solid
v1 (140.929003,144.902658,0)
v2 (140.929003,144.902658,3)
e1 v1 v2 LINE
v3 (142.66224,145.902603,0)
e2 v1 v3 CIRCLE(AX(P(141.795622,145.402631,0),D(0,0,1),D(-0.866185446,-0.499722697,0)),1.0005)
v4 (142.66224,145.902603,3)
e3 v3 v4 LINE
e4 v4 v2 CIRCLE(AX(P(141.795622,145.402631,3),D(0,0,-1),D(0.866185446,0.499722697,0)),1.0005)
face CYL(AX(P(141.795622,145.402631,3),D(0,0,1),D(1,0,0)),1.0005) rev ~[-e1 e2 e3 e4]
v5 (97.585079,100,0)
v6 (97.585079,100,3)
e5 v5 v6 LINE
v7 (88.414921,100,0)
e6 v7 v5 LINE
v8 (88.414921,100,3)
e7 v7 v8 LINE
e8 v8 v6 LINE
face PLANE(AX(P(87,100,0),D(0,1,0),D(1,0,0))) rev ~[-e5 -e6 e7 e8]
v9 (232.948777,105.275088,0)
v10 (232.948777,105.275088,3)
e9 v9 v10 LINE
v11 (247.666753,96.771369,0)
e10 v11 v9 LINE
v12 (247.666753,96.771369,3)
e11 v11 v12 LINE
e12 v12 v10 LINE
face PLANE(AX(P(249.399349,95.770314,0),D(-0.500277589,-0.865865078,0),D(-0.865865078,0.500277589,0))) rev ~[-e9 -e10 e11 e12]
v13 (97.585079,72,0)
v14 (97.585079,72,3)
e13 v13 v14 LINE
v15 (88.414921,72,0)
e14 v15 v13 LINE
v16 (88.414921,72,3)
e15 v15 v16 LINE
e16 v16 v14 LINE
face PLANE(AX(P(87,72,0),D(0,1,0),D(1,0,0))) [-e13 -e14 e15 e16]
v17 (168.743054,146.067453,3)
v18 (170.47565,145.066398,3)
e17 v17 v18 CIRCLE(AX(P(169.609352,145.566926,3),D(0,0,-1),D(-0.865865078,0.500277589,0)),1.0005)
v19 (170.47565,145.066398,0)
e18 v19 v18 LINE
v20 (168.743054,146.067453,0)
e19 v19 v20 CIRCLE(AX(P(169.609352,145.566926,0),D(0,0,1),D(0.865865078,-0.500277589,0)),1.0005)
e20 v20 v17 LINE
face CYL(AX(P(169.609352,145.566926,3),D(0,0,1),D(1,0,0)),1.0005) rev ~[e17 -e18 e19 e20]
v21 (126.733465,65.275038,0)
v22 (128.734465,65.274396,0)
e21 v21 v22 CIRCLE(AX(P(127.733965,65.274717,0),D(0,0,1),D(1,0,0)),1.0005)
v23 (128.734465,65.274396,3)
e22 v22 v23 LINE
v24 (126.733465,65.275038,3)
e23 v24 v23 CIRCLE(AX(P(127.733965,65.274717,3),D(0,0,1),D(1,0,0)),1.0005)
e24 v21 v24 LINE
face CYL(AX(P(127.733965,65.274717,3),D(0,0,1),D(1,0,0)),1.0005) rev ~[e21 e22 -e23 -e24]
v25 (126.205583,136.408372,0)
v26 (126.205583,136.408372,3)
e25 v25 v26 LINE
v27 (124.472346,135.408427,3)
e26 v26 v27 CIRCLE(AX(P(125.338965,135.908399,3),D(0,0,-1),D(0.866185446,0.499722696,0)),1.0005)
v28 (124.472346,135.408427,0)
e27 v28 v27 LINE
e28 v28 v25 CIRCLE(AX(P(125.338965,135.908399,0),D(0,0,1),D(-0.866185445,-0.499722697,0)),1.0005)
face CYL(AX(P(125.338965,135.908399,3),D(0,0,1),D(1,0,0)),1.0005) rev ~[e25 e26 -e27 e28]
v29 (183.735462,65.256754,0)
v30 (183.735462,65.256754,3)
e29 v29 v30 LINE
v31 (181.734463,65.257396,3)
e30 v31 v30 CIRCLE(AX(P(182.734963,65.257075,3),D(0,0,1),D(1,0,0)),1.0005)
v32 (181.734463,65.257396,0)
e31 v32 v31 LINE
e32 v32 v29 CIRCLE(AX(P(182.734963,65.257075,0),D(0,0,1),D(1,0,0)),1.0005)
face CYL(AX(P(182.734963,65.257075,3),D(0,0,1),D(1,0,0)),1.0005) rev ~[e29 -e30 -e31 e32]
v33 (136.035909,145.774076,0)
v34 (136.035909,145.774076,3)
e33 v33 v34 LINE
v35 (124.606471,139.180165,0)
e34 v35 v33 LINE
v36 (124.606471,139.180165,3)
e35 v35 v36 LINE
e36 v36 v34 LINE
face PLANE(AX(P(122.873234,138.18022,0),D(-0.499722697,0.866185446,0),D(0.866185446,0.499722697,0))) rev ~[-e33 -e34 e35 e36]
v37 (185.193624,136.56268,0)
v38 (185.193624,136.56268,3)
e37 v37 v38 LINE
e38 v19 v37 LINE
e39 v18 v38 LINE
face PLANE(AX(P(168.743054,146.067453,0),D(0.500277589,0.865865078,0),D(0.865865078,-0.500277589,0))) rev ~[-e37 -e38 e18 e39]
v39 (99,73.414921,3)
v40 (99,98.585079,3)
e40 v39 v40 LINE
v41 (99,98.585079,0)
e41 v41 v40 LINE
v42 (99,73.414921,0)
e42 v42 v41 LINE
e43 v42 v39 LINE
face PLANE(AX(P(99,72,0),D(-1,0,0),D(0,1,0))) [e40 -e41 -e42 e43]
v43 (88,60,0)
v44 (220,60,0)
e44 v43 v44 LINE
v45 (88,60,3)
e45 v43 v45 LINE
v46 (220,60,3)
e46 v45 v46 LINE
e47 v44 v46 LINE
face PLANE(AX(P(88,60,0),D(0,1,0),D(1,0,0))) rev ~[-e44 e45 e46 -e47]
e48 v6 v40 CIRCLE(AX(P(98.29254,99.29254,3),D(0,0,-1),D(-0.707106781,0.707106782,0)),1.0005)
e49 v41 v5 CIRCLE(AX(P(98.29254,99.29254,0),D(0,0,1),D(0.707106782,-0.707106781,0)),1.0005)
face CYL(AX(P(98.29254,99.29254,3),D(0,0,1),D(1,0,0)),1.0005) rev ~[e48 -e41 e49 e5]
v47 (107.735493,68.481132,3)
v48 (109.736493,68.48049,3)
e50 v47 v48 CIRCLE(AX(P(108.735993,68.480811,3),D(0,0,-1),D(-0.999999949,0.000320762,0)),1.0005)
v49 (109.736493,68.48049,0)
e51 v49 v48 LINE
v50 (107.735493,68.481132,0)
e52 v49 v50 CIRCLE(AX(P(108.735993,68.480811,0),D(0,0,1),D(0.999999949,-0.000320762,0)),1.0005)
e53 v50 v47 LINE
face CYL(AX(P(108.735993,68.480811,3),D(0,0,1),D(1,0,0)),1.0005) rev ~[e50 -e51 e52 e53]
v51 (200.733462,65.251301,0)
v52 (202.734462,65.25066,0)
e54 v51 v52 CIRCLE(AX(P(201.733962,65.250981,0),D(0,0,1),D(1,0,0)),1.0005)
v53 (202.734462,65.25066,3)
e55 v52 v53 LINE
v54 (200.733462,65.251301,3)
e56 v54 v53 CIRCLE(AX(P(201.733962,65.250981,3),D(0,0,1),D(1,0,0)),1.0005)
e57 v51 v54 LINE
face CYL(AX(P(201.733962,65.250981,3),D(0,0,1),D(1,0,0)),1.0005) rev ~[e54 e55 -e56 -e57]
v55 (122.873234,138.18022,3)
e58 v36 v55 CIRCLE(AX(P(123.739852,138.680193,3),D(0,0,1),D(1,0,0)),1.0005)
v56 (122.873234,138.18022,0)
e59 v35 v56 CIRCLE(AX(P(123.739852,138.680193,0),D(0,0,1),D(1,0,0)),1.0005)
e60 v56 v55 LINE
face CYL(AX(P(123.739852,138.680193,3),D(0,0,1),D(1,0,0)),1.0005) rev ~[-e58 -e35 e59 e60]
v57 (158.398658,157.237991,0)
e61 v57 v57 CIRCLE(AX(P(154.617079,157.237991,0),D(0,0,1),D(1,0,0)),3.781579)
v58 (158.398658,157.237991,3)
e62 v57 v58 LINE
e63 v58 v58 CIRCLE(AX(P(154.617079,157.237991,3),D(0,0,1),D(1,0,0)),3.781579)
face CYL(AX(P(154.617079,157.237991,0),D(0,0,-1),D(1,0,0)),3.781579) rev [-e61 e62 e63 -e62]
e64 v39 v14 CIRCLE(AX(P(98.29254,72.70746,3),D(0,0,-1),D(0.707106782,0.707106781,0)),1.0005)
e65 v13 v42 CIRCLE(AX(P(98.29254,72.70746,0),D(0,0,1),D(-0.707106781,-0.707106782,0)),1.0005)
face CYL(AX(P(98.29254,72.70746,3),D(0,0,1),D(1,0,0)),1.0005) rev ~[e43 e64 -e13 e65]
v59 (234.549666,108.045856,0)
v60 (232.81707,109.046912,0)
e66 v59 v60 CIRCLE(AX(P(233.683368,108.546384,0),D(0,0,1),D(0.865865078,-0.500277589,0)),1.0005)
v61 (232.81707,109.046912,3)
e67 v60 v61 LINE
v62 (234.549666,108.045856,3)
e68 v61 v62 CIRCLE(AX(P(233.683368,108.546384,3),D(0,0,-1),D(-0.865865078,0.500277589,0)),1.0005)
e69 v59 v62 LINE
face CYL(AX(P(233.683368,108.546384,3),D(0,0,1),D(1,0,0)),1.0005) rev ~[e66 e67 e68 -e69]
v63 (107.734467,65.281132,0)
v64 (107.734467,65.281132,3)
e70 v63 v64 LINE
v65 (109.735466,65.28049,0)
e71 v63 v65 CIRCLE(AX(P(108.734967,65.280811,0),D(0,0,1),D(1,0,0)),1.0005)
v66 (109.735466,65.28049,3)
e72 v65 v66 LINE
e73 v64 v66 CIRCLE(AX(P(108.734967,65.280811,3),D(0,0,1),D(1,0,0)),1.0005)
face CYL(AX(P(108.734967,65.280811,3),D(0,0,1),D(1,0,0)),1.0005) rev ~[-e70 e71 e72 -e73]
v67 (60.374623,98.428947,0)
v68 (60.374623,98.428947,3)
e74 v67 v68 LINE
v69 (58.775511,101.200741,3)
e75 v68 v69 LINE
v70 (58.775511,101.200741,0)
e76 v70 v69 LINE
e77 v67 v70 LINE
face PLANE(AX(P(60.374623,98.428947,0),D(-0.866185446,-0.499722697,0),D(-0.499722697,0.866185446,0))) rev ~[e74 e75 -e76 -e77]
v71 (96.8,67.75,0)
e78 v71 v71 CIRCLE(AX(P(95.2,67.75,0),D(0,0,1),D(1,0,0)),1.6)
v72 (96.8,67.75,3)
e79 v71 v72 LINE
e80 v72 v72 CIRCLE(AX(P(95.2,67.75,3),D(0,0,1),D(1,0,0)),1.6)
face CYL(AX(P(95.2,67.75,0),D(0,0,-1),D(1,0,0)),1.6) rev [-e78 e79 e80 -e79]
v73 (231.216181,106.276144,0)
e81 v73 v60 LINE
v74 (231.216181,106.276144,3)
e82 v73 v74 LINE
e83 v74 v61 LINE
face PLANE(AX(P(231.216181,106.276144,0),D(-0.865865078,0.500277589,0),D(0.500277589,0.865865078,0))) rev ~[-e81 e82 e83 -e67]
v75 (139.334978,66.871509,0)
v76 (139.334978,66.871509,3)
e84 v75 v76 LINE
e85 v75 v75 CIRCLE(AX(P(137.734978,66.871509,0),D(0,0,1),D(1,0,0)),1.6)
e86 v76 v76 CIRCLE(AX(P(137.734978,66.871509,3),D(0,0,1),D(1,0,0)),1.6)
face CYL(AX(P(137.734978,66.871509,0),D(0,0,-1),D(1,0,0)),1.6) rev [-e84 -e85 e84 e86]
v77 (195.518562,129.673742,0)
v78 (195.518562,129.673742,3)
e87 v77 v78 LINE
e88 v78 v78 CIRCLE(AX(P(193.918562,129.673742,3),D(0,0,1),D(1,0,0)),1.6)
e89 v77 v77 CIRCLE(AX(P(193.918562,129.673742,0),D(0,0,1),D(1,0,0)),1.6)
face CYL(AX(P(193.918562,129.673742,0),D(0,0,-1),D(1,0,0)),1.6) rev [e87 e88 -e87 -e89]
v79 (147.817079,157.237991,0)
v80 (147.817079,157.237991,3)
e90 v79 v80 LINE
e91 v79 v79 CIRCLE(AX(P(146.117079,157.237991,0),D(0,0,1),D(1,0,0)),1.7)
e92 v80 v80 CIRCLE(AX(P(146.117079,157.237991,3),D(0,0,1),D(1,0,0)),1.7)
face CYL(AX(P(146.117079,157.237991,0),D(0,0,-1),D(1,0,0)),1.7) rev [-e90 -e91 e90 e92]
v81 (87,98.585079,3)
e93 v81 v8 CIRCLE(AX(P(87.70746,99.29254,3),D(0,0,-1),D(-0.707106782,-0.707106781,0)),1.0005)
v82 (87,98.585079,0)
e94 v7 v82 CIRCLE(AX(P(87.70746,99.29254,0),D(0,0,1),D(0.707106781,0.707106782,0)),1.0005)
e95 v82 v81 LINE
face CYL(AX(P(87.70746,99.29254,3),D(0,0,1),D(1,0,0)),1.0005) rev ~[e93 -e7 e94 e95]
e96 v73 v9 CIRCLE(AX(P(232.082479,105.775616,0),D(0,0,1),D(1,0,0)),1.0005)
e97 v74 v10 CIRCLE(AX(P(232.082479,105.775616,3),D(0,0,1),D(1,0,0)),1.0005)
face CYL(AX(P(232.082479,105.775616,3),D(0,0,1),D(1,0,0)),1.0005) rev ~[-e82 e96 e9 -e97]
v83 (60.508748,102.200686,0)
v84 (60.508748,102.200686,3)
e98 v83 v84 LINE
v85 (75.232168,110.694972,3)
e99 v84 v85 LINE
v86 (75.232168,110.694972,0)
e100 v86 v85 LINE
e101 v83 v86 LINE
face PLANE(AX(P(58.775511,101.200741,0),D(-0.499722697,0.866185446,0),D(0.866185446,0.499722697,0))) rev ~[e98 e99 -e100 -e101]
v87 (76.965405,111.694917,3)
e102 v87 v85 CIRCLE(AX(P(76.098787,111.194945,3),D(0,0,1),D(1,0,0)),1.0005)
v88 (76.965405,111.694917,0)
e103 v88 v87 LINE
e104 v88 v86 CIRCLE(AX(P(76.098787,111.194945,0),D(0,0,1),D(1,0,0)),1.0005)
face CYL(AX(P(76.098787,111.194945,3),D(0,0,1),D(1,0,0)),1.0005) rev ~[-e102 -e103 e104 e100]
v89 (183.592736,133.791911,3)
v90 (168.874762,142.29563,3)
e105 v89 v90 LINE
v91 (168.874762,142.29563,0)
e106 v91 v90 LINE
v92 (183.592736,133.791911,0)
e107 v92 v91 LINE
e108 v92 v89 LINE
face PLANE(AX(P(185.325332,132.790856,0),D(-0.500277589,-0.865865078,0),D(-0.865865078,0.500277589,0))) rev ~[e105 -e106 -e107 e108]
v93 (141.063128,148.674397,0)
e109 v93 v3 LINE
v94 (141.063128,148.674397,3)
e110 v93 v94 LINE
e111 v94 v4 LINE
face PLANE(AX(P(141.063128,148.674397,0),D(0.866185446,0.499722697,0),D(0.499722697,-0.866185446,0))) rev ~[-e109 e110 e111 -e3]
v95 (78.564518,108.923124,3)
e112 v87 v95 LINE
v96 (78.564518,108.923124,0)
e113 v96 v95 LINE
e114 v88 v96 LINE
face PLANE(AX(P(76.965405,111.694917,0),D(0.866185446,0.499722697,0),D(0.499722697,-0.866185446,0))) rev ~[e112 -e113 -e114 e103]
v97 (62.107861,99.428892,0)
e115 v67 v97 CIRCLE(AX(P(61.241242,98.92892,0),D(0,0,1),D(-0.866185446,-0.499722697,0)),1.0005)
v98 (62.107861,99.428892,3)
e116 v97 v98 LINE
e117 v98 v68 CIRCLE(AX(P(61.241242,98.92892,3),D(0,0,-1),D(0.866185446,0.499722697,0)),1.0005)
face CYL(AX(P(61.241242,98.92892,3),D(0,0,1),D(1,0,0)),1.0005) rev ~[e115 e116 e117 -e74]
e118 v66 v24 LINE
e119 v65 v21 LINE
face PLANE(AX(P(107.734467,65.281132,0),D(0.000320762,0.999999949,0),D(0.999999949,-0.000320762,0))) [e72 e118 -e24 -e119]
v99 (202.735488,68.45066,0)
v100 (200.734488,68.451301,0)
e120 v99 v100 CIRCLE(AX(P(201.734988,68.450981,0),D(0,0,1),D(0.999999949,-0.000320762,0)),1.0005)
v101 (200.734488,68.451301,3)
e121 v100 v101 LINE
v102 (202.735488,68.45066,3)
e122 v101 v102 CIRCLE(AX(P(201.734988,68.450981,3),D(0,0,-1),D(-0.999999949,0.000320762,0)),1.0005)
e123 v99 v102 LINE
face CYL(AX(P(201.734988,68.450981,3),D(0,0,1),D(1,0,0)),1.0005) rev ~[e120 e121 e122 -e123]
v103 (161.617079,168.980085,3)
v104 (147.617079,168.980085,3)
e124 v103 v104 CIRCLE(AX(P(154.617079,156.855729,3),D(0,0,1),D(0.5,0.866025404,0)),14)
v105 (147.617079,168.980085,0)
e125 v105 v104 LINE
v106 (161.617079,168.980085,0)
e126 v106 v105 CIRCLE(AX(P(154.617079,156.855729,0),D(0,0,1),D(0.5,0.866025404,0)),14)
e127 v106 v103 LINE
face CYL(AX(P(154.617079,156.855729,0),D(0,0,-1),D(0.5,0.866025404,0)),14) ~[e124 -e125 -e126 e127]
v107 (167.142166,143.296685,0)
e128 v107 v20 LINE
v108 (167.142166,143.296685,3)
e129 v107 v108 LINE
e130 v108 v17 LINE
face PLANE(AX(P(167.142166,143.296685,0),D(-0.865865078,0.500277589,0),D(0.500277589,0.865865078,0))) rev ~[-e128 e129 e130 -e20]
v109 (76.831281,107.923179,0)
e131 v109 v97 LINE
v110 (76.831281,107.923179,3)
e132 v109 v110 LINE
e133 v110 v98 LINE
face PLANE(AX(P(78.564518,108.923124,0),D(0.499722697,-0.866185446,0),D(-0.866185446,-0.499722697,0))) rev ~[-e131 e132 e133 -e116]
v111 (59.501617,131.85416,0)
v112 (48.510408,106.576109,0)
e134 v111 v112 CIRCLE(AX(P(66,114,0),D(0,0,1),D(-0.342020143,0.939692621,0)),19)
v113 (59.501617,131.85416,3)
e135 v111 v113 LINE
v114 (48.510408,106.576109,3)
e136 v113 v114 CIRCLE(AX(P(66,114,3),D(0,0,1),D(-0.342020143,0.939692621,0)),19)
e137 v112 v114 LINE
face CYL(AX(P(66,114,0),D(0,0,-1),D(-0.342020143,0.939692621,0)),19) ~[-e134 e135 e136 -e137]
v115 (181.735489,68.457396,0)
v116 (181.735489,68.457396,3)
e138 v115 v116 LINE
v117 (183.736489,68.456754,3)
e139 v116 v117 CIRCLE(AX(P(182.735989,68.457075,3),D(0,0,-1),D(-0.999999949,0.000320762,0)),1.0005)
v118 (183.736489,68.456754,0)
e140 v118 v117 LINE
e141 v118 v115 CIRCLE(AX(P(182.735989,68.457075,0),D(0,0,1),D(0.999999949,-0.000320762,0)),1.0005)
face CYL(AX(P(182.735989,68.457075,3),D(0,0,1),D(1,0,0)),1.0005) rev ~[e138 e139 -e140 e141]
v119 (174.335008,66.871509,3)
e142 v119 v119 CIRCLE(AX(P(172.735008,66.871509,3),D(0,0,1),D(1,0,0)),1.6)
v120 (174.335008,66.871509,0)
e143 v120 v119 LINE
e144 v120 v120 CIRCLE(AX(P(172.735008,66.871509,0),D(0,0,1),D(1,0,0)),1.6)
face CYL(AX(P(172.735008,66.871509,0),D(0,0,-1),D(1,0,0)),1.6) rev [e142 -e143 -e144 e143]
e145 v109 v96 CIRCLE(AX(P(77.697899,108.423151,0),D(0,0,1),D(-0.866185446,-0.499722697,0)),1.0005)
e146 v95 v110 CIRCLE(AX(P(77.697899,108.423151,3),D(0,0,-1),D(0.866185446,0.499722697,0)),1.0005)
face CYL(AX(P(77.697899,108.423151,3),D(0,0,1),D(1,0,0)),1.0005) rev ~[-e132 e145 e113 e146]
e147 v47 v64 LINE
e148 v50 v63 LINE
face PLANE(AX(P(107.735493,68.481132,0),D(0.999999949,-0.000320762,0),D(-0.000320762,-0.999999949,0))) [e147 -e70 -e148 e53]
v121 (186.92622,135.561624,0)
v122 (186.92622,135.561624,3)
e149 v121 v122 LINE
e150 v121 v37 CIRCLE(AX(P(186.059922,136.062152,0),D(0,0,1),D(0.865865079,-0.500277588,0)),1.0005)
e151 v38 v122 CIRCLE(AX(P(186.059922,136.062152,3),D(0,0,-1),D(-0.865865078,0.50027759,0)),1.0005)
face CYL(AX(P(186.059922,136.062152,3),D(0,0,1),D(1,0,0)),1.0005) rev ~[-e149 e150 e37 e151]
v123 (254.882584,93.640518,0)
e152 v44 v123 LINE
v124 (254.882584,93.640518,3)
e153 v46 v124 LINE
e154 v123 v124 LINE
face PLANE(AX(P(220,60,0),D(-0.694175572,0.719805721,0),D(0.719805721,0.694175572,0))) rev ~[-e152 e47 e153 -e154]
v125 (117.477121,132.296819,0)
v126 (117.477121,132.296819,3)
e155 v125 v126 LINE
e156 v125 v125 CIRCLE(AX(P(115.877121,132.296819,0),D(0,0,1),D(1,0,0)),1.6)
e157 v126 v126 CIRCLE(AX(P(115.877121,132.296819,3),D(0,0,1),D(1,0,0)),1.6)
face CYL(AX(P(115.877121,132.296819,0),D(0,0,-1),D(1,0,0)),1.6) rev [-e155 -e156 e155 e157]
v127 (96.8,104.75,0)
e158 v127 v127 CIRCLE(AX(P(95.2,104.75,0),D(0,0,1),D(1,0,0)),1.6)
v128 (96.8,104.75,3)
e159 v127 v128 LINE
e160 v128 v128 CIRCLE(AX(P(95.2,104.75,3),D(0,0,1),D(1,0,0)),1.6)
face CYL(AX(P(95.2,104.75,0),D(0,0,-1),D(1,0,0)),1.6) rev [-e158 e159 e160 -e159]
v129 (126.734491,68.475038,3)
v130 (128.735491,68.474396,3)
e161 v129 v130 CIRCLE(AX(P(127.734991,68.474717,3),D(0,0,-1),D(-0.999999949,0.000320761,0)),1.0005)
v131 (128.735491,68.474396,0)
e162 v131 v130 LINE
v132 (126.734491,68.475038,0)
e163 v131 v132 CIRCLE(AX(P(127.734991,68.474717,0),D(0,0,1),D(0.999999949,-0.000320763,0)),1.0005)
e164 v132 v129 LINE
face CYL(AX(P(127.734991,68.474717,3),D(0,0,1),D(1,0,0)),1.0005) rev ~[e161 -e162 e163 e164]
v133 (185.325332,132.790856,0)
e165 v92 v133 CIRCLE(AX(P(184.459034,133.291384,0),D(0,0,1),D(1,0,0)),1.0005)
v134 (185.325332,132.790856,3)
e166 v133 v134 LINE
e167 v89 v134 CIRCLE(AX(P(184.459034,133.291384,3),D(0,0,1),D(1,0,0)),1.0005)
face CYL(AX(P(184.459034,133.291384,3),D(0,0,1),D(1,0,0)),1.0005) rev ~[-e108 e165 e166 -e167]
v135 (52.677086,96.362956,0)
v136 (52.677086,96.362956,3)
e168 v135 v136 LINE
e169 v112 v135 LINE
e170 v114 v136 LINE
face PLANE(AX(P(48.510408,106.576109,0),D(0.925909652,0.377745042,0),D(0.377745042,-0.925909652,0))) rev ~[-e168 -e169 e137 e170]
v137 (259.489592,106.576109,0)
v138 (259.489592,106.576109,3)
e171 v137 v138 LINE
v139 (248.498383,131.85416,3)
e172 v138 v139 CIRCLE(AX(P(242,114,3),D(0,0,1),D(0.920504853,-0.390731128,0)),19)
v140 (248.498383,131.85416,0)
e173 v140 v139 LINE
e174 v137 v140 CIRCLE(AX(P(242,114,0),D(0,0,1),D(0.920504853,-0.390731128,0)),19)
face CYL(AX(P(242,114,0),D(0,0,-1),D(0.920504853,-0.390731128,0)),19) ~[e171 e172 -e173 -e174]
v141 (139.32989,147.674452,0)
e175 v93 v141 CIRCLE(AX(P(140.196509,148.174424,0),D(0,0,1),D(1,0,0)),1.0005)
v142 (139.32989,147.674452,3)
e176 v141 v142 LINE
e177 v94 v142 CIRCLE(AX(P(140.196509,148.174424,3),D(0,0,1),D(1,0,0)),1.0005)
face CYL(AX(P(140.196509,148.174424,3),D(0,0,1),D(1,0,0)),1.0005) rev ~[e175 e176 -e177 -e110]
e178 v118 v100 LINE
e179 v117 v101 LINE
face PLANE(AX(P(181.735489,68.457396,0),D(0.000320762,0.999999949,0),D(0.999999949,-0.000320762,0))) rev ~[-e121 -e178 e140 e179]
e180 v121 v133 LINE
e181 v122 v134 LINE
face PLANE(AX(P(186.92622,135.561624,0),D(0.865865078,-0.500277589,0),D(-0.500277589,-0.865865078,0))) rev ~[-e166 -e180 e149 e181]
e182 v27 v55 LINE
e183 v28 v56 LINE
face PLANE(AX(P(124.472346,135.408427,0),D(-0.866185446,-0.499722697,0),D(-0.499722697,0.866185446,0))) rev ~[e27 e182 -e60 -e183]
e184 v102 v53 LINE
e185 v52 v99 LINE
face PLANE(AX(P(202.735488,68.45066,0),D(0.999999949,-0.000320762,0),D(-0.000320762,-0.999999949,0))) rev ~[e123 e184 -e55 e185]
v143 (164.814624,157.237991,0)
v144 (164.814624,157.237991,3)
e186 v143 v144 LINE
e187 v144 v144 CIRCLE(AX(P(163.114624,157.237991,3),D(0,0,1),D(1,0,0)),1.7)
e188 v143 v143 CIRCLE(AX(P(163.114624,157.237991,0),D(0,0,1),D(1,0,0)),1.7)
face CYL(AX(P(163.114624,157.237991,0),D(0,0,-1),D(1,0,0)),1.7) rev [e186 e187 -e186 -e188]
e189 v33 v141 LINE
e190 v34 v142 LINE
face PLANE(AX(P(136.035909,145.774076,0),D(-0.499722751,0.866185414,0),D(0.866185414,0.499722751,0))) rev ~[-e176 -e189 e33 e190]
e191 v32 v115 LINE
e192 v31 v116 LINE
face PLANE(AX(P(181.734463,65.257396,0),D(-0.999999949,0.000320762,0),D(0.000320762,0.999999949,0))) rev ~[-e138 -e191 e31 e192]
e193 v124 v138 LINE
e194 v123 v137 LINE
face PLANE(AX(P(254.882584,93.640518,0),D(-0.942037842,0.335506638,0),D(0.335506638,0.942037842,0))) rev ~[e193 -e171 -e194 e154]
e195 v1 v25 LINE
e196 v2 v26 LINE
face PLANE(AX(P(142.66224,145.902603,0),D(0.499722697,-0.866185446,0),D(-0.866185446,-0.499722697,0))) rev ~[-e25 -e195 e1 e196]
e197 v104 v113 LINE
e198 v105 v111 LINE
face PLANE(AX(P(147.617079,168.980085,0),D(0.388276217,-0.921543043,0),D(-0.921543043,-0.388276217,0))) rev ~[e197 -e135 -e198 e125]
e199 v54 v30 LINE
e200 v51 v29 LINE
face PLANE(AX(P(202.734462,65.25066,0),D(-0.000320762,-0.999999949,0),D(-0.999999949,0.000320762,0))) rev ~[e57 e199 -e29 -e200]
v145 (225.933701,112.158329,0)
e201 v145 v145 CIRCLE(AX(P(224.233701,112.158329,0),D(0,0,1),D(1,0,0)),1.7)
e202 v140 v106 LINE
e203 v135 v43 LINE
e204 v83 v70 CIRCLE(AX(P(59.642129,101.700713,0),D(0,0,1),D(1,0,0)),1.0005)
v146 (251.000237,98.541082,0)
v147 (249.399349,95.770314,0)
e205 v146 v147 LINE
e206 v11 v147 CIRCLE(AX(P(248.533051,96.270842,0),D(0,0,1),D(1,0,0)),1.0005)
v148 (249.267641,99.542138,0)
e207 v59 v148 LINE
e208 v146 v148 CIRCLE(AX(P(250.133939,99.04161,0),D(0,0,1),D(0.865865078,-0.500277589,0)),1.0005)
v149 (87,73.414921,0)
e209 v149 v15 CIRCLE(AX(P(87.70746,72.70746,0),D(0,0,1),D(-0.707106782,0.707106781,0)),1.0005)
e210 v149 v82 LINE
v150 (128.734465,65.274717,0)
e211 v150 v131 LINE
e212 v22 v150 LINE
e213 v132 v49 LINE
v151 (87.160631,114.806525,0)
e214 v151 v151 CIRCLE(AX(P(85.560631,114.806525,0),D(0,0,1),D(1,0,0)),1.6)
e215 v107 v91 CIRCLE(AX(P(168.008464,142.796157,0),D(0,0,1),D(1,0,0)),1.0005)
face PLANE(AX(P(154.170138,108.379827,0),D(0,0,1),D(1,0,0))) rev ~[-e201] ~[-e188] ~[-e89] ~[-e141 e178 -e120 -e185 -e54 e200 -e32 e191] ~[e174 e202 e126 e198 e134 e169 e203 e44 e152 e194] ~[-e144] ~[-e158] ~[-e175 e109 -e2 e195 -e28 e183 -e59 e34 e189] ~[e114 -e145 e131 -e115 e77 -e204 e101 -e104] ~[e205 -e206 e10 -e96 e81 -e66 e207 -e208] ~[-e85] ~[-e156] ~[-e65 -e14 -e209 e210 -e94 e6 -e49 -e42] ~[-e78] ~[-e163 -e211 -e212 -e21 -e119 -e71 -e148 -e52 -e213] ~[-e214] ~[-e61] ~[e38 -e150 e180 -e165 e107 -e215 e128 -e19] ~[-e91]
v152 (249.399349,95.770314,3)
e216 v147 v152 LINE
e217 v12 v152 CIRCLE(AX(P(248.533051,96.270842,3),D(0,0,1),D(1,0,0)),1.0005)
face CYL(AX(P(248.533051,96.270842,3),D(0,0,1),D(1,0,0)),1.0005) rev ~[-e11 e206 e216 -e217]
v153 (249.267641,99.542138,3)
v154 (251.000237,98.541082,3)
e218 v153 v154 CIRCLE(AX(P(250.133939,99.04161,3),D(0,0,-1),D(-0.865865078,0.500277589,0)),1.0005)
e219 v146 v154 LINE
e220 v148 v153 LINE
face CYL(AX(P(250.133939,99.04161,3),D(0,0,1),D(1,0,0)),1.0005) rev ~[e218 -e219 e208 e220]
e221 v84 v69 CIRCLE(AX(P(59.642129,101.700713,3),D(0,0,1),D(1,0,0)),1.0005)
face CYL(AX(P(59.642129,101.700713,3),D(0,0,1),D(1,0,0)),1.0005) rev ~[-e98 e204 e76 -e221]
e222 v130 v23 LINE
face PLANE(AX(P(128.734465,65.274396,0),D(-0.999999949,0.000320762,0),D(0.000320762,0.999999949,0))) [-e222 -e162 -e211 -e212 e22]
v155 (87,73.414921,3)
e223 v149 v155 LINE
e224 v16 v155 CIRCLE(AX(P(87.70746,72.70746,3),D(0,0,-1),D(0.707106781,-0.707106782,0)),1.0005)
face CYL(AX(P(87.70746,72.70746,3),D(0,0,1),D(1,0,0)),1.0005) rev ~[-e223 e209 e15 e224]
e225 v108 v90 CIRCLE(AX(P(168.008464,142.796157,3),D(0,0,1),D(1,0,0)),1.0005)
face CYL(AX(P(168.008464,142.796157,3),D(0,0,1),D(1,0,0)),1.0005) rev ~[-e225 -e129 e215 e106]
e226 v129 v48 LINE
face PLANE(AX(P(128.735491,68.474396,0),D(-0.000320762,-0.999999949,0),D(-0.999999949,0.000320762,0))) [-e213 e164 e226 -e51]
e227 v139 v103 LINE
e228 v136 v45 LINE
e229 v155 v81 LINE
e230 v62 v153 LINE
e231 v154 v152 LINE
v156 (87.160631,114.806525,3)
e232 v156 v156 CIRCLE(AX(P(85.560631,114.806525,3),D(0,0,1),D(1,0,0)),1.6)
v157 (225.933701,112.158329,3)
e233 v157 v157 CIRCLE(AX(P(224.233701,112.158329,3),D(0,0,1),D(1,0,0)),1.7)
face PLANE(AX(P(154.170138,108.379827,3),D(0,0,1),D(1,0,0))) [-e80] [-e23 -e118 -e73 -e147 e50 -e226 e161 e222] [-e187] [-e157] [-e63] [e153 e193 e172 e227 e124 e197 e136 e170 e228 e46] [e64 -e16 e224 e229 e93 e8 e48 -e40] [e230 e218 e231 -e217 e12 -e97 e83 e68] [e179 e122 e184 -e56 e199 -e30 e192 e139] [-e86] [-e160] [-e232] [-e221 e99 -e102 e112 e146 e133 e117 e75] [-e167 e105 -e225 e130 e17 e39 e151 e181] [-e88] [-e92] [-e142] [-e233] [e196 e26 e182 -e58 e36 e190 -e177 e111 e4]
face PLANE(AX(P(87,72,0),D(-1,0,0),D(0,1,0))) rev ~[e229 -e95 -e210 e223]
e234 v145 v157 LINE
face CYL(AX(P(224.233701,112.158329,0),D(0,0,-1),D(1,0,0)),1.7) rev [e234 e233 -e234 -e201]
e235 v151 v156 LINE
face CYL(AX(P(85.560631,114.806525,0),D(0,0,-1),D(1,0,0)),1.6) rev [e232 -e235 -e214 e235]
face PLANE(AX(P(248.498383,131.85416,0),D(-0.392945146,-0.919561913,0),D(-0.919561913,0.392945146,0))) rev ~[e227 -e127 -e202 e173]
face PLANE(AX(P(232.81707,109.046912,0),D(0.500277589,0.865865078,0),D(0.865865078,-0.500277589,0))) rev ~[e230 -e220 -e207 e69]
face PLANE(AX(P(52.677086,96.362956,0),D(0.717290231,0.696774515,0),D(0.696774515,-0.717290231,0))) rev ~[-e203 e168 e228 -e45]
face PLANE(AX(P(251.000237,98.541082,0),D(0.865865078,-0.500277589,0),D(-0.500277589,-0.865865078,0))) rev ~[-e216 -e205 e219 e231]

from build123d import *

# Parameters (mm, degrees)
MODEL_R             = 3.781579339
MODEL_R_2           = 1.7
MODEL_R_3           = 1.6
MODEL_W             = 12
MODEL_H             = 28
BOSS_EXTRUDE2_DEPTH = 3
SKETCH1_R           = 1.0005
CUT_EXTRUDE1_DEPTH  = 312.964229084


with BuildPart() as part:
    # Model → Boss-Extrude2 (new body)
    with BuildSketch(Plane.XY):
        with BuildLine():
            Line((88, 60), (220, 60))
            Line((220, 60), (254.882583618, 93.640518188))
            Line((254.882583618, 93.640518188), (259.489592216, 106.576108559))
            ThreePointArc((259.489592216, 106.576108559), (259.424141413, 121.57623231), (248.498382723, 131.854159795))
            Line((248.498382723, 131.854159795), (161.617078665, 168.980084934))
            ThreePointArc((161.617078665, 168.980084934), (154.617078665, 170.855729281), (147.617078665, 168.980084934))
            Line((147.617078665, 168.980084934), (59.501617277, 131.854159795))
            ThreePointArc((59.501617277, 131.854159795), (48.575858587, 121.57623231), (48.510407784, 106.576108559))
            Line((48.510407784, 106.576108559), (52.677086204, 96.362955936))
            Line((52.677086204, 96.362955936), (88, 60))
        make_face()
        with Locations((154.617078665, 157.237991333)):
            Circle(MODEL_R, mode=Mode.SUBTRACT)
        with Locations((163.114624023, 157.237991333)):
            Circle(MODEL_R_2, mode=Mode.SUBTRACT)
        with Locations((146.117078665, 157.237991333)):
            Circle(MODEL_R_2, mode=Mode.SUBTRACT)
        with Locations((115.877120948, 132.296819167)):
            Circle(MODEL_R_3, mode=Mode.SUBTRACT)
        with Locations((137.734977924, 66.871509225)):
            Circle(MODEL_R_3, mode=Mode.SUBTRACT)
        with Locations((193.918561918, 129.673741782)):
            Circle(MODEL_R_3, mode=Mode.SUBTRACT)
        with Locations((172.735008, 66.871509225)):
            Circle(MODEL_R_3, mode=Mode.SUBTRACT)
        with Locations((95.2, 104.75)):
            Circle(MODEL_R_3, mode=Mode.SUBTRACT)
        with Locations((85.560630532, 114.806524888)):
            Circle(MODEL_R_3, mode=Mode.SUBTRACT)
        with Locations((224.233700932, 112.158328537)):
            Circle(MODEL_R_2, mode=Mode.SUBTRACT)
        with Locations((95.2, 67.75)):
            Circle(MODEL_R_3, mode=Mode.SUBTRACT)
        with Locations((93, 86)):
            Rectangle(MODEL_W, MODEL_H, mode=Mode.SUBTRACT)
        Polygon((181.734462562, 65.257395619), (181.735489, 68.457395619), (202.735488, 68.450659619), (202.734461562, 65.250659619), align=None, mode=Mode.SUBTRACT)
        Polygon((249.399348556, 95.770313962), (231.216181373, 106.276143646), (232.817069658, 109.046911896), (251.000236841, 98.541082213), align=None, mode=Mode.SUBTRACT)
        Polygon((60.374623433, 98.42894725), (58.775510803, 101.200740676), (76.965405371, 111.694917426), (78.564518, 108.923124), align=None, mode=Mode.SUBTRACT)
        Polygon((128.734464562, 65.274396), (128.735491, 68.474396), (107.735493, 68.481132), (107.734466562, 65.281132), align=None, mode=Mode.SUBTRACT)
        Polygon((142.66224045, 145.902603249), (124.4723462, 135.408426681), (122.873233571, 138.180220108), (136.035908619, 145.774076024), (141.063127638, 148.674396991), align=None, mode=Mode.SUBTRACT)
        Polygon((167.142166, 143.296685), (168.743054285, 146.067453251), (186.926220285, 135.561624251), (185.325332, 132.790856), align=None, mode=Mode.SUBTRACT)
    extrude(amount=BOSS_EXTRUDE2_DEPTH)

    # Sketch1 → Cut-Extrude1 (cut, through all)
    with BuildSketch(Plane.XY.offset(3)):
        with Locations((61.241241971, 98.928919808)):
            Circle(SKETCH1_R)
        with Locations((59.642129342, 101.700713234)):
            Circle(SKETCH1_R)
        with Locations((76.098786832, 111.194944868)):
            Circle(SKETCH1_R)
        with Locations((77.697899462, 108.423151442)):
            Circle(SKETCH1_R)
        with Locations((87.707460335, 99.292539665)):
            Circle(SKETCH1_R)
        with Locations((98.292539665, 99.292539665)):
            Circle(SKETCH1_R)
        with Locations((87.707460335, 72.707460335)):
            Circle(SKETCH1_R)
        with Locations((98.292539665, 72.707460335)):
            Circle(SKETCH1_R)
        with Locations((108.735992948, 68.480811078)):
            Circle(SKETCH1_R)
        with Locations((108.73496651, 65.280811078)):
            Circle(SKETCH1_R)
        with Locations((127.733964613, 65.274716923)):
            Circle(SKETCH1_R)
        with Locations((127.734991051, 68.474716923)):
            Circle(SKETCH1_R)
        with Locations((182.73496251, 65.257074697)):
            Circle(SKETCH1_R)
        with Locations((182.735988949, 68.457074697)):
            Circle(SKETCH1_R)
        with Locations((201.734988051, 68.450980541)):
            Circle(SKETCH1_R)
        with Locations((201.733961613, 65.250980541)):
            Circle(SKETCH1_R)
        with Locations((232.082479384, 105.775615918)):
            Circle(SKETCH1_R)
        with Locations((233.683367669, 108.546384168)):
            Circle(SKETCH1_R)
        with Locations((250.13393883, 99.041609941)):
            Circle(SKETCH1_R)
        with Locations((248.533050545, 96.27084169)):
            Circle(SKETCH1_R)
        with Locations((168.008464011, 142.796157272)):
            Circle(SKETCH1_R)
        with Locations((169.609352296, 145.566925523)):
            Circle(SKETCH1_R)
        with Locations((184.459033989, 133.291383728)):
            Circle(SKETCH1_R)
        with Locations((186.059922274, 136.062151978)):
            Circle(SKETCH1_R)
        with Locations((141.795621912, 145.402630691)):
            Circle(SKETCH1_R)
        with Locations((140.196509099, 148.174424012)):
            Circle(SKETCH1_R)
        with Locations((123.739852109, 138.680192666)):
            Circle(SKETCH1_R)
        with Locations((125.338964739, 135.90839924)):
            Circle(SKETCH1_R)
    extrude(amount=-CUT_EXTRUDE1_DEPTH, mode=Mode.SUBTRACT)


solid = part.part
